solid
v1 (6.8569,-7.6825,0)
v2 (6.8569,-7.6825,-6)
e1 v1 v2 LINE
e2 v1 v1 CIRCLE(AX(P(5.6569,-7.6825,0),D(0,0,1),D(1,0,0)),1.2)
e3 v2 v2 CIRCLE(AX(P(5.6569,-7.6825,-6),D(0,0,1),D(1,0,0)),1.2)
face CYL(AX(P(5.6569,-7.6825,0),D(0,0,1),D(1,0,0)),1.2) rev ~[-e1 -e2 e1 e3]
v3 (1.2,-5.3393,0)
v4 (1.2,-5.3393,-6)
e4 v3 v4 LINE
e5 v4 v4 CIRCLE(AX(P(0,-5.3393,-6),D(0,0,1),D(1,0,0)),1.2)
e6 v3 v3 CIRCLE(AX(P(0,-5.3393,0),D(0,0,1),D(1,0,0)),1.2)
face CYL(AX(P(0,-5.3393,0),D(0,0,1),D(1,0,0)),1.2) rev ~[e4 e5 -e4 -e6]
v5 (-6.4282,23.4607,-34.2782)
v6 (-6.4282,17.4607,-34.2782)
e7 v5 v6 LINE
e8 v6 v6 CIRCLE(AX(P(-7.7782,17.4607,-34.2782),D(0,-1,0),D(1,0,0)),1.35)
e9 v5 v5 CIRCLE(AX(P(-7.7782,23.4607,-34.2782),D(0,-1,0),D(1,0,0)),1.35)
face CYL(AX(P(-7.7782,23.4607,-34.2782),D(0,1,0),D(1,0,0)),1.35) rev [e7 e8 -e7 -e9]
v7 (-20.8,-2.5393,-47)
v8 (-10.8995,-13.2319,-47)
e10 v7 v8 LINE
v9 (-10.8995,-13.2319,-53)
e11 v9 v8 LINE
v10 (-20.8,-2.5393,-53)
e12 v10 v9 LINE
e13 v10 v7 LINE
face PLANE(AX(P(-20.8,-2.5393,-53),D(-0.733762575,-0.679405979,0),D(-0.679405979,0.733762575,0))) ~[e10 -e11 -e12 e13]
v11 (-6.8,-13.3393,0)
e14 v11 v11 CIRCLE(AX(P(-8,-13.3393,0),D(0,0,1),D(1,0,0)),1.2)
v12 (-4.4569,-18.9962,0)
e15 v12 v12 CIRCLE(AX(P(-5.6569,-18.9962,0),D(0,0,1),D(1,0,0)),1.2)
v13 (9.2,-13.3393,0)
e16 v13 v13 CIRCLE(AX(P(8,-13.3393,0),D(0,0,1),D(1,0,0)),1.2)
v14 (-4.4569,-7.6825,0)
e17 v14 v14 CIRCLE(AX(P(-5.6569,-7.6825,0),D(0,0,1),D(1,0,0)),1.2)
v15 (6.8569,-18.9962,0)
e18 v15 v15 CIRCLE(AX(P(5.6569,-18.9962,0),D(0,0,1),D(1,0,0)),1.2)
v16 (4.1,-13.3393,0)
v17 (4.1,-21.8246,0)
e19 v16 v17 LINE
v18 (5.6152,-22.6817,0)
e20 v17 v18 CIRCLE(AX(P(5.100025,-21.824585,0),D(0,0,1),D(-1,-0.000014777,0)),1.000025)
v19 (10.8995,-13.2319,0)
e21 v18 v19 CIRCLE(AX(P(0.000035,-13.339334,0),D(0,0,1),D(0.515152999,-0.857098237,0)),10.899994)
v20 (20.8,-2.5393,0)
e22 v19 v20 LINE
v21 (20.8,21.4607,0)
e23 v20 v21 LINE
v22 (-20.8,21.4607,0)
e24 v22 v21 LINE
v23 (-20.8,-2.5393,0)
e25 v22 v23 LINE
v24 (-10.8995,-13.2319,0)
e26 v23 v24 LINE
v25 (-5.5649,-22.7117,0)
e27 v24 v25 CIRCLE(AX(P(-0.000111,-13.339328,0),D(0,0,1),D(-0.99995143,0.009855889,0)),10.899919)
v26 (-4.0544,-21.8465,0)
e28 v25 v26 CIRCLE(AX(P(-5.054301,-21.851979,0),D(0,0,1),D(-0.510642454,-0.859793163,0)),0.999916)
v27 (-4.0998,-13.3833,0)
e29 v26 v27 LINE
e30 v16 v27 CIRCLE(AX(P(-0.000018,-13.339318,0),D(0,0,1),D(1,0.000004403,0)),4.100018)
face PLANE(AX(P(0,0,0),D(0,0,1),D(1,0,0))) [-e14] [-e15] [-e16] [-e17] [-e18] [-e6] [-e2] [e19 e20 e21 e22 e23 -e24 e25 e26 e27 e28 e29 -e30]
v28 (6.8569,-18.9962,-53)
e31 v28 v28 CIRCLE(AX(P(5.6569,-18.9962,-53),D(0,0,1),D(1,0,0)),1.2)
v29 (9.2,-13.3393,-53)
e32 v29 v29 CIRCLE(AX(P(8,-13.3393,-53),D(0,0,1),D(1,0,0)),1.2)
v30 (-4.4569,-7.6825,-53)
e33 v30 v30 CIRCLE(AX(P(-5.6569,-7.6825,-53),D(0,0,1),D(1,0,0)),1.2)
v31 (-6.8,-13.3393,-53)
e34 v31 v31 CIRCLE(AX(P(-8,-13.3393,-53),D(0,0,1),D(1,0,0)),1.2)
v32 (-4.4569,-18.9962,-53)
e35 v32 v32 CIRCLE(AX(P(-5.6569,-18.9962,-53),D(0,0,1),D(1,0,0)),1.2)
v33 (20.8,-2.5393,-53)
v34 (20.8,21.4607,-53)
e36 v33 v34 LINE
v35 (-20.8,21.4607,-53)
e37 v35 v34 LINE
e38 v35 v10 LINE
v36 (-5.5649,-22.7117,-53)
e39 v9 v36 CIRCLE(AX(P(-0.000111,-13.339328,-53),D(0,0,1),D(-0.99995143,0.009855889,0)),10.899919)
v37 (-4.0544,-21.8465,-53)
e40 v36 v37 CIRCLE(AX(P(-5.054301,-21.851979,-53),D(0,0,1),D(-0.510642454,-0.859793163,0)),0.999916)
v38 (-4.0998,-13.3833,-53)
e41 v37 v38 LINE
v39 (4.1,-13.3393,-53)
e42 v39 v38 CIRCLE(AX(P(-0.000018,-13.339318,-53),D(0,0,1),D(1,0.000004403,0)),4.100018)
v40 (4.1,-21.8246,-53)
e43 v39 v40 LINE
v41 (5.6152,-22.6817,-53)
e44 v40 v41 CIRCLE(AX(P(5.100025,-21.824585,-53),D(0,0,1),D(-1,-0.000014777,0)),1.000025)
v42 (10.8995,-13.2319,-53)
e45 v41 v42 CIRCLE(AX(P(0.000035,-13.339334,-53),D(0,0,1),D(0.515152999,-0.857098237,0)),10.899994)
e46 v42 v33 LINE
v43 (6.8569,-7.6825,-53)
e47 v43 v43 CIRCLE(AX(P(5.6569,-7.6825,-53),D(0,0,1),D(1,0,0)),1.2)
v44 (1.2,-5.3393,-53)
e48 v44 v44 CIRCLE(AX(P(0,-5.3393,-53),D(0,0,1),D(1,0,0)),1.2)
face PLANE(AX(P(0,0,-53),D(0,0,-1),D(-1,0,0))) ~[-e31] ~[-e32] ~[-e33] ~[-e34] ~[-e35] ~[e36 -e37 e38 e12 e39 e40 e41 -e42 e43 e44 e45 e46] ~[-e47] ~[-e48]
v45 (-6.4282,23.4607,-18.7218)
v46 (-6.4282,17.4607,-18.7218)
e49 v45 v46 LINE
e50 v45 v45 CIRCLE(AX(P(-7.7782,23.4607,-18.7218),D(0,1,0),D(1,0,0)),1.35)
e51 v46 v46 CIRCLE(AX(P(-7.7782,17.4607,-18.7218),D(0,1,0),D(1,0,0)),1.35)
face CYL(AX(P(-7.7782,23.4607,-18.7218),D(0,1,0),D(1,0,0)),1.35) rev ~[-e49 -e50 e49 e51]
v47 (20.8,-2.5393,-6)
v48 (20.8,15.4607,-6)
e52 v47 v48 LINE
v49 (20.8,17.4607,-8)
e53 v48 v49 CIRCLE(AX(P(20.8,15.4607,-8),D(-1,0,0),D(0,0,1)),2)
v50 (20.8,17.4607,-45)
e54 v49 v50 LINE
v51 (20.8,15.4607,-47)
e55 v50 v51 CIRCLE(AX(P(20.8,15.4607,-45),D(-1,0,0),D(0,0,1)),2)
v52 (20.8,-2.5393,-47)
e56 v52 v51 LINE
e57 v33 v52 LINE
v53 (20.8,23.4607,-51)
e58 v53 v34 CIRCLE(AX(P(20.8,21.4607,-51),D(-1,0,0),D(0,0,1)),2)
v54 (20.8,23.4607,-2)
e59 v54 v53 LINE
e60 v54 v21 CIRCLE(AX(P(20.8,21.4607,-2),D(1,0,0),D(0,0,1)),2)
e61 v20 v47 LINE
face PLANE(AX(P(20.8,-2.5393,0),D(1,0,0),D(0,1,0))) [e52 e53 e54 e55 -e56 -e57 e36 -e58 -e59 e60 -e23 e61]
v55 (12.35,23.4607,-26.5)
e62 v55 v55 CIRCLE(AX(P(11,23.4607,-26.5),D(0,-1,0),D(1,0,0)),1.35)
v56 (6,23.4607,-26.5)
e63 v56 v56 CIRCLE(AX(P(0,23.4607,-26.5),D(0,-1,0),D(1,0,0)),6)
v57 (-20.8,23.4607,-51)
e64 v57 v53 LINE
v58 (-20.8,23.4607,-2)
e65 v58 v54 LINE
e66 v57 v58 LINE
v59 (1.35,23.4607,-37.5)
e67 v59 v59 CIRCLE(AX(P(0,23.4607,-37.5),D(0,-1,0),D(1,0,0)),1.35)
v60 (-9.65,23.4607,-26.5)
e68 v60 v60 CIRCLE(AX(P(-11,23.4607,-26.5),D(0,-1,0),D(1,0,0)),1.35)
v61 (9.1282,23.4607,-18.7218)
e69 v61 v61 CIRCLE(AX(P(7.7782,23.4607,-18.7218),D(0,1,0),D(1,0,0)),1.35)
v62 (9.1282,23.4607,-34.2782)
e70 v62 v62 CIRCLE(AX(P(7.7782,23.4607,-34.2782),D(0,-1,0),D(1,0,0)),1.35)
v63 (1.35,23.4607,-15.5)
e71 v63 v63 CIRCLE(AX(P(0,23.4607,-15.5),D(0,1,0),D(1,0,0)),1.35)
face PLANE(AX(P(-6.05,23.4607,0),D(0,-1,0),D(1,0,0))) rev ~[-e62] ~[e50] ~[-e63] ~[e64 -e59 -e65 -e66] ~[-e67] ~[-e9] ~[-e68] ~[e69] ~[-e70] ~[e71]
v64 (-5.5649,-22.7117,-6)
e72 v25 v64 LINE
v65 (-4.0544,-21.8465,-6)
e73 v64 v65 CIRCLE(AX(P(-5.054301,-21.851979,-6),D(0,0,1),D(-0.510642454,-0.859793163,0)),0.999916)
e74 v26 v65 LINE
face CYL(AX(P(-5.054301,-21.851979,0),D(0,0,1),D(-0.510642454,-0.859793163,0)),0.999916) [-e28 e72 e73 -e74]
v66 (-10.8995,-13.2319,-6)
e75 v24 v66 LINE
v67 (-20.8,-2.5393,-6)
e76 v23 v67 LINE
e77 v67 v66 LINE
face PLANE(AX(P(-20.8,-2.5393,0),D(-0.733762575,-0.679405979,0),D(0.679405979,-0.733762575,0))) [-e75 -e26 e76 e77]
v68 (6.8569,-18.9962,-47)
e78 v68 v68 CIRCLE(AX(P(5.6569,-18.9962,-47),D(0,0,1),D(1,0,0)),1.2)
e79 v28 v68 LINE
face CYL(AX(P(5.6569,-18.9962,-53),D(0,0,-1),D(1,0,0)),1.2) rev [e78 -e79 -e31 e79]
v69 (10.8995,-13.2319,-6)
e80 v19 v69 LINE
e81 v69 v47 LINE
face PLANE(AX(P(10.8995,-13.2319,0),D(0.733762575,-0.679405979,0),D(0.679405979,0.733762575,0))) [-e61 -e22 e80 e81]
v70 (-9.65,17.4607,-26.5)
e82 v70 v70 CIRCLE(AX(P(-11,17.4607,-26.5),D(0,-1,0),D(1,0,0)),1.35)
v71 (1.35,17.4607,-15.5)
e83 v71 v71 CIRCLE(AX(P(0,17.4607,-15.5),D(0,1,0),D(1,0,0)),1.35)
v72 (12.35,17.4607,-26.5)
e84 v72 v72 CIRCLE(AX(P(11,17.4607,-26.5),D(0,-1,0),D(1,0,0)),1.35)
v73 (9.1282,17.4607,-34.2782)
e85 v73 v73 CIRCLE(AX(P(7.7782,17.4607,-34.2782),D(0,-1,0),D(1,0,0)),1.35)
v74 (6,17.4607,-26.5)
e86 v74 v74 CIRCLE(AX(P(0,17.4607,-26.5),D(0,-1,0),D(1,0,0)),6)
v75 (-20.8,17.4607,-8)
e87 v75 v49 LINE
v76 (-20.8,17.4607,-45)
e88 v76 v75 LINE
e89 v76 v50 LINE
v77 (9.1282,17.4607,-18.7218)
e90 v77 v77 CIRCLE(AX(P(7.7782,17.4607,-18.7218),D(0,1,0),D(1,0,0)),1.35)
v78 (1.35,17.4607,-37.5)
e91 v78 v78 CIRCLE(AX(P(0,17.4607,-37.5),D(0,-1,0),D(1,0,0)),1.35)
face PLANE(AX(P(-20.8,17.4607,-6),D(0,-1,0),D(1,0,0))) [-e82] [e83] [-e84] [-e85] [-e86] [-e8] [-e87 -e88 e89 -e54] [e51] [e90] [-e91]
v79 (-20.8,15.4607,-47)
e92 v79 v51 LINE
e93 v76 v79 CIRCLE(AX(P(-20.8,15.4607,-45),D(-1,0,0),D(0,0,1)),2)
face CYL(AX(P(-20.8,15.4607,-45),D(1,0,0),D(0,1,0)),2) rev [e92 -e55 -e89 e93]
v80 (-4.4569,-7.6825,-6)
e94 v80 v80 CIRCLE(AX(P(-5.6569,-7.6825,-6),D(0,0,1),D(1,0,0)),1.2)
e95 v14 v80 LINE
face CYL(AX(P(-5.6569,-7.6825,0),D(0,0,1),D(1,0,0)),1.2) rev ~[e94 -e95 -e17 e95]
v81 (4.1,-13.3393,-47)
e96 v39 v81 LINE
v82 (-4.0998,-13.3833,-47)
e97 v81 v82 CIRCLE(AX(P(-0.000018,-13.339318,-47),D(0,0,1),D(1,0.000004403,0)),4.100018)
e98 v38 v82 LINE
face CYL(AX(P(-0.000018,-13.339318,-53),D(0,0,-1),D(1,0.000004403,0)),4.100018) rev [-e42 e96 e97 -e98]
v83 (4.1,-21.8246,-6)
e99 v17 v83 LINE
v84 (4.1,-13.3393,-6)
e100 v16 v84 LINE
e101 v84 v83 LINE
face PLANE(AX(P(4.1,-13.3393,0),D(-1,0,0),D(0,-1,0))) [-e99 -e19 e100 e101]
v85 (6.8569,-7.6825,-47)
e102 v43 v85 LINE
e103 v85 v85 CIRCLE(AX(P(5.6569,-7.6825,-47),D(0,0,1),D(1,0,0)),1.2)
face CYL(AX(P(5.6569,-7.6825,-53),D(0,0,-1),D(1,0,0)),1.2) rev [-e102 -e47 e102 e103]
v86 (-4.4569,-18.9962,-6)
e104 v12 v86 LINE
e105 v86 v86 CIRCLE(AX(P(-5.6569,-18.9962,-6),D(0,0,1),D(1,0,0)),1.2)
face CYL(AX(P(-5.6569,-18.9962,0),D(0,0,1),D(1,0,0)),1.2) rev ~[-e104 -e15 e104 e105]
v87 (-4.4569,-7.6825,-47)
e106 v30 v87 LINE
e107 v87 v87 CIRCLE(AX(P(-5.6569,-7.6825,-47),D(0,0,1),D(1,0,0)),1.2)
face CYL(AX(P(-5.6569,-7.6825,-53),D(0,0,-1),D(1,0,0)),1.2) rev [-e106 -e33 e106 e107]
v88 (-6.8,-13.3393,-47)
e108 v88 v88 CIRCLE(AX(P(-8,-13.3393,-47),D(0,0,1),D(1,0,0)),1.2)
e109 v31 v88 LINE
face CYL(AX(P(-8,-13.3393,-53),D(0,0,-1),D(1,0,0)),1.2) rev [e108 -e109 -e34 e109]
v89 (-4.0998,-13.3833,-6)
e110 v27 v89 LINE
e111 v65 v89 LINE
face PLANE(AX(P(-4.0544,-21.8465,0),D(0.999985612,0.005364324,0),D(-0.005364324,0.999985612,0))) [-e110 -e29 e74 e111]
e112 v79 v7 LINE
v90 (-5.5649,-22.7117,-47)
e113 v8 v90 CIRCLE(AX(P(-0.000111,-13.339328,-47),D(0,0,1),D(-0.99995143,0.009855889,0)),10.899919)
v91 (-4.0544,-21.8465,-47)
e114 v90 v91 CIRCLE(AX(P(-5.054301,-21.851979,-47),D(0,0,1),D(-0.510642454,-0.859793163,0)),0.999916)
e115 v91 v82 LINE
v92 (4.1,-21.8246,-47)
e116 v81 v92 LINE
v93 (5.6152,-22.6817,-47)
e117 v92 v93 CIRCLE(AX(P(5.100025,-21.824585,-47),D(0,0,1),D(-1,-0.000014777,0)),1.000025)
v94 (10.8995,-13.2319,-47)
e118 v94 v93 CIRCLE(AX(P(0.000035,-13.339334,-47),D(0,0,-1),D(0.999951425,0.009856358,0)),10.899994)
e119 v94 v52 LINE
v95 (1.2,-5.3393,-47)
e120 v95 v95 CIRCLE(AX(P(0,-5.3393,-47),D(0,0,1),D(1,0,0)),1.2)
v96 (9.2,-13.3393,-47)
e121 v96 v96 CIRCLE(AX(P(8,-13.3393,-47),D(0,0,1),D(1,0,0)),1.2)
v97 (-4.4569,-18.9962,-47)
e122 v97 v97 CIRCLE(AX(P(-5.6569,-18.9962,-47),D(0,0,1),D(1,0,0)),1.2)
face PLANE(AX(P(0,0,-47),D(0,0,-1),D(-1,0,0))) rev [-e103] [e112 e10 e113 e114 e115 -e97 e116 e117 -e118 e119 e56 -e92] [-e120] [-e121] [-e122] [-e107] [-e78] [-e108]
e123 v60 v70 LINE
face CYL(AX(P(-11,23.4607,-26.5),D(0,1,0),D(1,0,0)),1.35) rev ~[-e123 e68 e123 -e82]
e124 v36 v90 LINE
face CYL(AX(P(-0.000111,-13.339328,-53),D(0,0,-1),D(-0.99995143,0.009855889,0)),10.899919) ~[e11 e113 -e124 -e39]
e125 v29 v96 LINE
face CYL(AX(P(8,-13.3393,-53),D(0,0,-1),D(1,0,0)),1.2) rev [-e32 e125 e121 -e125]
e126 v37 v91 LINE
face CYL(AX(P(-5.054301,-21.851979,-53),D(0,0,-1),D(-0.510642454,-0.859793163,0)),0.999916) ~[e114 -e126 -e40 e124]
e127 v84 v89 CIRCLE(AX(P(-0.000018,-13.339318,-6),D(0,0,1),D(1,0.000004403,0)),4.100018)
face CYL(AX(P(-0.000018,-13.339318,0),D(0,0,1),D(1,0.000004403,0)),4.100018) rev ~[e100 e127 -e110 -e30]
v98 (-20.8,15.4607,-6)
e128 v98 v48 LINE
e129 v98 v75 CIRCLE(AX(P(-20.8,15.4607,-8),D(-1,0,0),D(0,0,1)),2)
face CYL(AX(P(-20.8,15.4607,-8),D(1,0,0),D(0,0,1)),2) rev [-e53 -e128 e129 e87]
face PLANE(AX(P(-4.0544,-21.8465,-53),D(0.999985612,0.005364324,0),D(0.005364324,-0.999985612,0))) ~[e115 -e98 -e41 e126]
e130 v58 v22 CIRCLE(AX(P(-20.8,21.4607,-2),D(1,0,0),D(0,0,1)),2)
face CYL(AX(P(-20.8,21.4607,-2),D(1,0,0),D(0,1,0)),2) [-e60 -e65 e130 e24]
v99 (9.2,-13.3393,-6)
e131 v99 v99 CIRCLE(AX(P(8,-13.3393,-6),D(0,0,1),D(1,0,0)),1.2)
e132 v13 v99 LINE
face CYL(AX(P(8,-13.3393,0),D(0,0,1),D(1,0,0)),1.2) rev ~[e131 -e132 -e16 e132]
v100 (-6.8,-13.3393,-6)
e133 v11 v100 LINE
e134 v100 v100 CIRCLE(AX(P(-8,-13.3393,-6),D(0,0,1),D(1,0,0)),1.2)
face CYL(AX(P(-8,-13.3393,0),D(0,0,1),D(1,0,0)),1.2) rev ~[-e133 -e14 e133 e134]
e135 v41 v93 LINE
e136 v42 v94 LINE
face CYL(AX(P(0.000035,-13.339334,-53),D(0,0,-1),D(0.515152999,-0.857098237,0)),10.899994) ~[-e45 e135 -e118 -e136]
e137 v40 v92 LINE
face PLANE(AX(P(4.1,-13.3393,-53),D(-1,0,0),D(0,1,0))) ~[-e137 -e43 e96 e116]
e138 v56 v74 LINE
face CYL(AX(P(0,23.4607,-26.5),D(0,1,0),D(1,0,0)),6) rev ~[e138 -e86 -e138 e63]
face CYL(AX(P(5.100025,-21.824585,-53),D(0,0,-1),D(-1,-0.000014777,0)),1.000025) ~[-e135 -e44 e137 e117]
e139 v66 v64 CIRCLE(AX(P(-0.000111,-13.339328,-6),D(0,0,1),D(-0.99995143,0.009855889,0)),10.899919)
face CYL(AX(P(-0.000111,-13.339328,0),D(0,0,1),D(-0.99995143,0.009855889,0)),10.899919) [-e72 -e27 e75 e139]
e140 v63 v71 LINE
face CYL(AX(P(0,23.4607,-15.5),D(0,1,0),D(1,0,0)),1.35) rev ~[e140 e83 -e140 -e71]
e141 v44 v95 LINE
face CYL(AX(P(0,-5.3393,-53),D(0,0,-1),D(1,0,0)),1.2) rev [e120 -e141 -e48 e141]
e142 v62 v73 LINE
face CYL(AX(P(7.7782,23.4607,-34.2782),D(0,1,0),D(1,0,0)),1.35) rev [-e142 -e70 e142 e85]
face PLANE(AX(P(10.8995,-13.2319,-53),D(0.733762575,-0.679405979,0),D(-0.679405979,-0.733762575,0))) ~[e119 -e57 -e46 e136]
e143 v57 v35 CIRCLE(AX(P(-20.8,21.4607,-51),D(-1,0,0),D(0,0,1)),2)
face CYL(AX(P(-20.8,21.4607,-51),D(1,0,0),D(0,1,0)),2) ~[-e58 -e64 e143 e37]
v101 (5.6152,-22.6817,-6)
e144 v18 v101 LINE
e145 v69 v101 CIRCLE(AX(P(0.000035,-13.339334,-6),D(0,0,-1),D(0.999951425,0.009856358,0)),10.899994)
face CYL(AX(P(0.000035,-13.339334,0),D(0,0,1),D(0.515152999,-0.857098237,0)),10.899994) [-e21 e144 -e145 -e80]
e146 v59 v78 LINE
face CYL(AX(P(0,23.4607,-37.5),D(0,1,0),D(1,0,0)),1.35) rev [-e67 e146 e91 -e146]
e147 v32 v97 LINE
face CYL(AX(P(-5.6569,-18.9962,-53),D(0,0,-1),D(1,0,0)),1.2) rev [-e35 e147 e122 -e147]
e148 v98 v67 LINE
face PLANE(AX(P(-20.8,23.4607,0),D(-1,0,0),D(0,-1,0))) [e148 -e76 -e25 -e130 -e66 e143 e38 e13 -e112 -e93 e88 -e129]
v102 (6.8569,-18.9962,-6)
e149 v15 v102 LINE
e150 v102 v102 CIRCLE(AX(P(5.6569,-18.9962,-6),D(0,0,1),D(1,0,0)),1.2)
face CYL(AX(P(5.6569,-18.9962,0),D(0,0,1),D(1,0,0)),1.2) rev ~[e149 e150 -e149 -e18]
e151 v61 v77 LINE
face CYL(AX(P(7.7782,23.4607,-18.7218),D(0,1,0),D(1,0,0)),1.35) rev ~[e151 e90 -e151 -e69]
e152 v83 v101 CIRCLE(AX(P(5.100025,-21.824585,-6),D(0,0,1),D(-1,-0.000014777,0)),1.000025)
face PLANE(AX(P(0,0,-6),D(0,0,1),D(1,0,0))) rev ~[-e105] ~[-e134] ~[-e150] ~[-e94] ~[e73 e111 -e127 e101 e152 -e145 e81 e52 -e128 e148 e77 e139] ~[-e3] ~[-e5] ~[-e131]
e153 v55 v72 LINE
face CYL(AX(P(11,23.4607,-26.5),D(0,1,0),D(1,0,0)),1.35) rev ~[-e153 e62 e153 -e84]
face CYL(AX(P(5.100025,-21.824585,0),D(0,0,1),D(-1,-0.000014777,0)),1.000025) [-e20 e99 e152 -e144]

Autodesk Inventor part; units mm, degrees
ref_plane "YZ Plane" through (0, 0, 0) normal (1, 0, 0) x (0, 1, 0)
ref_plane "XZ Plane" through (0, 0, 0) normal (0, 1, 0) x (-1, 0, 0)
ref_plane "XY Plane" through (0, 0, 0) normal (0, 0, 1) x (1, 0, 0)
ref_plane "작업 평면1" through (0, 0, 0) normal (0, 0, 1) x (1, 0, 0)
sketch "스케치1" plane through (0, 0, 0) normal (0, 0, 1) x (1, 0, 0)
  arc A0 (5.05, 17.3607) -> (6.05, 18.3607) centre (6.05, 17.3607) ccw projected
  line L0 (5.05, 17.3607) -> (-5.05, 17.3607) projected
  arc A1 (-6.05, 18.3607) -> (-5.05, 17.3607) centre (-6.05, 17.3607) ccw projected
  line L1 (-6.05, 18.3607) -> (-6.05, 23.4607) projected
  line L2 (-6.05, 23.4607) -> (-20.8, 23.4607) projected
  line L3 (-20.8, 23.4607) -> (-20.8, -2.5393) projected
  line L4 (-20.8, -2.5393) -> (-10.8995, -13.2319) projected
  arc A2 (-10.8995, -13.2319) -> (-5.5649, -22.7117) centre (0, -13.3393) ccw projected
  arc A3 (-5.5649, -22.7117) -> (-4.0544, -21.8465) centre (-5.0543, -21.8519) ccw projected
  line L5 (-4.0544, -21.8465) -> (-4.0998, -13.3833) projected
  arc A4 (4.1, -13.3393) -> (-4.0998, -13.3833) centre (0, -13.3393) ccw projected
  line L6 (4.1, -13.3393) -> (4.1, -21.8246) projected
  arc A5 (4.1, -21.8246) -> (5.6152, -22.6817) centre (5.1, -21.8246) ccw projected
  arc A6 (5.6152, -22.6817) -> (10.8995, -13.2319) centre (0, -13.3393) ccw projected
  line L7 (10.8995, -13.2319) -> (20.8, -2.5393) projected
  line L8 (20.8, -2.5393) -> (20.8, 23.4607) projected
  line L9 (20.8, 23.4607) -> (6.05, 23.4607) projected
  line L10 (6.05, 23.4607) -> (6.05, 18.3607) projected
  circle A7 centre (5.6569, -18.9962) radius 1.2 projected
  circle A8 centre (5.6569, -7.6825) radius 1.2 projected
  circle A9 centre (-5.6569, -7.6825) radius 1.2 projected
  circle A10 centre (0, -5.3393) radius 1.2 projected
  circle A11 centre (8, -13.3393) radius 1.2 projected
  circle A12 centre (-15.8, 20.4107) radius 1.35 projected
  circle A13 centre (15.8, 20.4107) radius 1.35 projected
  circle A14 centre (-8, -13.3393) radius 1.2 projected
  circle A15 centre (-5.6569, -18.9962) radius 1.2 projected
  line L11 (-20.8, 23.4607) -> (20.8, 23.4607)
  line L12 (20.8, 23.4607) -> (20.8, -2.5393)
  line L13 (20.8, -2.5393) -> (-20.8, -2.5393)
  line L14 (-20.8, -2.5393) -> (-20.8, 23.4607)
  circle A16 centre (0, -13.3393) radius 4.1
  circle A17 centre (0, -13.3393) radius 10.9
  circle A18 centre (0, -5.3393) radius 1.2
  circle A19 centre (-5.6569, -7.6825) radius 1.2
  circle A20 centre (-8, -13.3393) radius 1.2
  circle A21 centre (-5.6569, -18.9962) radius 1.2
  circle A22 centre (0, -21.3393) radius 1.2
  circle A23 centre (5.6569, -18.9962) radius 1.2
  circle A24 centre (8, -13.3393) radius 1.2
  circle A25 centre (5.6569, -7.6825) radius 1.2
  line L15 (-20.8, -2.5393) -> (-10.8995, -13.2319)
  line L16 (10.8995, -13.2319) -> (20.8, -2.5393)
  point P0 (0, 0)
  point P1 (-1.4731, -2.5393)
  point P2 (1.4731, -2.5393)
  dimension "d2" = 360
extrude "돌출1" add sketch "스케치1" against normal blind 6 contours L0 A1 L1 L11 L10 A0 | A0 L10 L9 L8 L13 A17 L3 L2 L1 A1 L0 | L7 A17 L13 | A6 A5 L6 A4 L5 A3 A2 A17 L13 | L13 A17 L4 | A12 | A13
sketch "스케치2" plane through (0, 0, -6) normal (0, 0, -1) x (-1, 0, 0)
  circle A0 centre (-5.6569, -18.9962) radius 1.2 projected
  circle A1 centre (-5.6569, -7.6825) radius 1.2 projected
  circle A2 centre (5.6569, -7.6825) radius 1.2 projected
  circle A3 centre (0, -5.3393) radius 1.2 projected
  circle A4 centre (-8, -13.3393) radius 1.2 projected
  circle A5 centre (15.8, 20.4107) radius 1.35 projected
  circle A6 centre (-15.8, 20.4107) radius 1.35 projected
  circle A7 centre (8, -13.3393) radius 1.2 projected
  circle A8 centre (5.6569, -18.9962) radius 1.2 projected
  arc A9 (-6.05, 18.3607) -> (-5.05, 17.3607) centre (-6.05, 17.3607) ccw projected
  line L0 (-6.05, 18.3607) -> (-6.05, 23.4607) projected
  line L1 (-20.8, 23.4607) -> (-6.05, 23.4607) projected
  line L2 (-20.8, -2.5393) -> (-20.8, 23.4607) projected
  line L3 (-10.8995, -13.2319) -> (-20.8, -2.5393) projected
  arc A10 (-10.8995, -13.2319) -> (-5.6152, -22.6817) centre (0, -13.3393) ccw projected
  arc A11 (-5.6152, -22.6817) -> (-4.1, -21.8246) centre (-5.1, -21.8246) ccw projected
  line L4 (-4.1, -13.3393) -> (-4.1, -21.8246) projected
  arc A12 (4.0998, -13.3833) -> (-4.1, -13.3393) centre (0, -13.3393) ccw projected
  line L5 (4.0544, -21.8465) -> (4.0998, -13.3833) projected
  arc A13 (4.0544, -21.8465) -> (5.5649, -22.7117) centre (5.0543, -21.8519) ccw projected
  arc A14 (5.5649, -22.7117) -> (10.8995, -13.2319) centre (0, -13.3393) ccw projected
  line L6 (20.8, -2.5393) -> (10.8995, -13.2319) projected
  line L7 (20.8, 23.4607) -> (20.8, -2.5393) projected
  line L8 (6.05, 23.4607) -> (20.8, 23.4607) projected
  line L9 (6.05, 23.4607) -> (6.05, 18.3607) projected
  arc A15 (5.05, 17.3607) -> (6.05, 18.3607) centre (6.05, 17.3607) ccw projected
  line L10 (5.05, 17.3607) -> (-5.05, 17.3607) projected
  line L11 (-20.8, 23.4607) -> (20.8, 23.4607)
  line L12 (20.8, 23.4607) -> (20.8, 17.4607)
  line L13 (20.8, 17.4607) -> (-20.8, 17.4607)
  line L14 (-20.8, 17.4607) -> (-20.8, 23.4607)
  point P0 (0, 0)
  dimension "d6" = 6
extrude "돌출2" add sketch "스케치2" along normal blind 20.5 contours A5 | A6 | L0 L11 L9 A15 L13 A9 | A9 L13 L2 L1 L0 | A15 L9 L8 L7 L13
sketch "스케치3" plane through (-20.8, 23.4607, 0) normal (0, 1, 0) x (1, 0, 0)
  line L0 (39.2, 41.4) -> (34, 41.4) projected
  line L1 (34, 41.4) -> (34, 43.6) projected
  line L2 (34, 43.6) -> (39.2, 43.6) projected
  line L3 (39.2, 43.6) -> (39.2, 41.4) projected
  line L4 (2.4, 11.6) -> (7.6, 11.6) projected
  line L5 (7.6, 11.6) -> (7.6, 9.4) projected
  line L6 (7.6, 9.4) -> (2.4, 9.4) projected
  line L7 (2.4, 9.4) -> (2.4, 11.6) projected
  line L8 (39.2, 11.6) -> (39.2, 9.4) projected
  line L9 (39.2, 9.4) -> (34, 9.4) projected
  line L10 (34, 9.4) -> (34, 11.6) projected
  line L11 (34, 11.6) -> (39.2, 11.6) projected
  line L12 (7.6, 41.4) -> (2.4, 41.4) projected
  line L13 (2.4, 41.4) -> (2.4, 43.6) projected
  line L14 (2.4, 43.6) -> (7.6, 43.6) projected
  line L15 (7.6, 43.6) -> (7.6, 41.4) projected
  line L16 (14.8, 47) -> (-0.2, 47) projected
  line L17 (-0.2, 47) -> (-0.2, 6) projected
  line L18 (-0.2, 6) -> (14.8, 6) projected
  line L19 (14.8, 0) -> (14.8, 6) projected
  line L20 (26.8, 0) -> (14.8, 0) projected
  line L21 (26.8, 0) -> (26.8, 6) projected
  line L22 (26.8, 6) -> (41.8, 6) projected
  line L23 (41.8, 6) -> (41.8, 47) projected
  line L24 (41.8, 47) -> (26.8, 47) projected
  line L25 (26.8, 53) -> (26.8, 47) projected
  line L26 (14.8, 53) -> (26.8, 53) projected
  line L27 (14.8, 53) -> (14.8, 47) projected
  circle A0 centre (20.8, 26.5) radius 6 projected
  circle A1 centre (20.8, 37.5) radius 1.6 projected
  circle A2 centre (13.0218, 34.2782) radius 1.6 projected
  circle A3 centre (9.8, 26.5) radius 1.6 projected
  circle A4 centre (13.0218, 18.7218) radius 1.6 projected
  circle A5 centre (20.8, 15.5) radius 1.6 projected
  circle A6 centre (28.5782, 18.7218) radius 1.6 projected
  circle A7 centre (31.8, 26.5) radius 1.6 projected
  circle A8 centre (28.5782, 34.2782) radius 1.6 projected
  circle A9 centre (20.8, 26.5) radius 6
  circle A10 centre (13.0218, 18.7218) radius 1.35
  circle A11 centre (20.8, 15.5) radius 1.35
  circle A12 centre (28.5782, 18.7218) radius 1.35
  circle A13 centre (31.8, 26.5) radius 1.35
  circle A14 centre (28.5782, 34.2782) radius 1.35
  circle A15 centre (20.8, 37.5) radius 1.35
  circle A16 centre (13.0218, 34.2782) radius 1.35
  circle A17 centre (9.8, 26.5) radius 1.35
  point P0 (20.8, 0)
  dimension "d9" = 2.7
  dimension "d12" = 360
extrude "돌출3" cut sketch "스케치3" against normal blind 20.5 contours A0 | A10 | A11 | A12 | A13 | A17
mirror "미러1" about plane through (0, 20.4607, -26.5) normal (0, 0, -1)
fillet "모깎기1" radius 2 4 edges at (0, 17.4607, -6) (0, 17.4607, -47) (0, 23.4607, -53) (0, 23.4607, 0)
sketch "스케치4" plane through (0, 0, 0) normal (0, 0, 1) x (1, 0, 0)
  line L0 (1.4731, -2.5393) -> (-1.4731, -2.5393) projected
  arc A0 (1.4731, -2.5393) -> (-1.4731, -2.5393) centre (0, -13.3393) ccw projected
  line L1 (-1.6142, -2.1682) -> (1.6887, -2.1682)
  line L2 (1.6887, -2.1682) -> (1.6887, -3.0074)
  line L3 (1.6887, -3.0074) -> (-1.6142, -3.0074)
  line L4 (-1.6142, -3.0074) -> (-1.6142, -2.1682)
  point P0 (0, 0)
extrude "돌출4" add sketch "스케치4" against normal blind 6 contours L0 A0 | L1 L2 L3 L4
sketch "스케치5" plane through (4.1, -21.8246, -53) normal (0, 0, -1) x (-1, 0, 0)
  line L0 (2.2483, 20.1118) -> (6.3529, 20.1118)
  line L1 (6.3529, 20.1118) -> (6.3529, 18.3836)
  line L2 (6.3529, 18.3836) -> (2.2483, 18.3836)
  line L3 (2.2483, 18.3836) -> (2.2483, 20.1118)
  point P0 (4.1, 21.8246)
extrude "돌출5" add sketch "스케치5" against normal blind 6
properties part number "shoulder_ver2_new" material "PMMA 플라스틱"
